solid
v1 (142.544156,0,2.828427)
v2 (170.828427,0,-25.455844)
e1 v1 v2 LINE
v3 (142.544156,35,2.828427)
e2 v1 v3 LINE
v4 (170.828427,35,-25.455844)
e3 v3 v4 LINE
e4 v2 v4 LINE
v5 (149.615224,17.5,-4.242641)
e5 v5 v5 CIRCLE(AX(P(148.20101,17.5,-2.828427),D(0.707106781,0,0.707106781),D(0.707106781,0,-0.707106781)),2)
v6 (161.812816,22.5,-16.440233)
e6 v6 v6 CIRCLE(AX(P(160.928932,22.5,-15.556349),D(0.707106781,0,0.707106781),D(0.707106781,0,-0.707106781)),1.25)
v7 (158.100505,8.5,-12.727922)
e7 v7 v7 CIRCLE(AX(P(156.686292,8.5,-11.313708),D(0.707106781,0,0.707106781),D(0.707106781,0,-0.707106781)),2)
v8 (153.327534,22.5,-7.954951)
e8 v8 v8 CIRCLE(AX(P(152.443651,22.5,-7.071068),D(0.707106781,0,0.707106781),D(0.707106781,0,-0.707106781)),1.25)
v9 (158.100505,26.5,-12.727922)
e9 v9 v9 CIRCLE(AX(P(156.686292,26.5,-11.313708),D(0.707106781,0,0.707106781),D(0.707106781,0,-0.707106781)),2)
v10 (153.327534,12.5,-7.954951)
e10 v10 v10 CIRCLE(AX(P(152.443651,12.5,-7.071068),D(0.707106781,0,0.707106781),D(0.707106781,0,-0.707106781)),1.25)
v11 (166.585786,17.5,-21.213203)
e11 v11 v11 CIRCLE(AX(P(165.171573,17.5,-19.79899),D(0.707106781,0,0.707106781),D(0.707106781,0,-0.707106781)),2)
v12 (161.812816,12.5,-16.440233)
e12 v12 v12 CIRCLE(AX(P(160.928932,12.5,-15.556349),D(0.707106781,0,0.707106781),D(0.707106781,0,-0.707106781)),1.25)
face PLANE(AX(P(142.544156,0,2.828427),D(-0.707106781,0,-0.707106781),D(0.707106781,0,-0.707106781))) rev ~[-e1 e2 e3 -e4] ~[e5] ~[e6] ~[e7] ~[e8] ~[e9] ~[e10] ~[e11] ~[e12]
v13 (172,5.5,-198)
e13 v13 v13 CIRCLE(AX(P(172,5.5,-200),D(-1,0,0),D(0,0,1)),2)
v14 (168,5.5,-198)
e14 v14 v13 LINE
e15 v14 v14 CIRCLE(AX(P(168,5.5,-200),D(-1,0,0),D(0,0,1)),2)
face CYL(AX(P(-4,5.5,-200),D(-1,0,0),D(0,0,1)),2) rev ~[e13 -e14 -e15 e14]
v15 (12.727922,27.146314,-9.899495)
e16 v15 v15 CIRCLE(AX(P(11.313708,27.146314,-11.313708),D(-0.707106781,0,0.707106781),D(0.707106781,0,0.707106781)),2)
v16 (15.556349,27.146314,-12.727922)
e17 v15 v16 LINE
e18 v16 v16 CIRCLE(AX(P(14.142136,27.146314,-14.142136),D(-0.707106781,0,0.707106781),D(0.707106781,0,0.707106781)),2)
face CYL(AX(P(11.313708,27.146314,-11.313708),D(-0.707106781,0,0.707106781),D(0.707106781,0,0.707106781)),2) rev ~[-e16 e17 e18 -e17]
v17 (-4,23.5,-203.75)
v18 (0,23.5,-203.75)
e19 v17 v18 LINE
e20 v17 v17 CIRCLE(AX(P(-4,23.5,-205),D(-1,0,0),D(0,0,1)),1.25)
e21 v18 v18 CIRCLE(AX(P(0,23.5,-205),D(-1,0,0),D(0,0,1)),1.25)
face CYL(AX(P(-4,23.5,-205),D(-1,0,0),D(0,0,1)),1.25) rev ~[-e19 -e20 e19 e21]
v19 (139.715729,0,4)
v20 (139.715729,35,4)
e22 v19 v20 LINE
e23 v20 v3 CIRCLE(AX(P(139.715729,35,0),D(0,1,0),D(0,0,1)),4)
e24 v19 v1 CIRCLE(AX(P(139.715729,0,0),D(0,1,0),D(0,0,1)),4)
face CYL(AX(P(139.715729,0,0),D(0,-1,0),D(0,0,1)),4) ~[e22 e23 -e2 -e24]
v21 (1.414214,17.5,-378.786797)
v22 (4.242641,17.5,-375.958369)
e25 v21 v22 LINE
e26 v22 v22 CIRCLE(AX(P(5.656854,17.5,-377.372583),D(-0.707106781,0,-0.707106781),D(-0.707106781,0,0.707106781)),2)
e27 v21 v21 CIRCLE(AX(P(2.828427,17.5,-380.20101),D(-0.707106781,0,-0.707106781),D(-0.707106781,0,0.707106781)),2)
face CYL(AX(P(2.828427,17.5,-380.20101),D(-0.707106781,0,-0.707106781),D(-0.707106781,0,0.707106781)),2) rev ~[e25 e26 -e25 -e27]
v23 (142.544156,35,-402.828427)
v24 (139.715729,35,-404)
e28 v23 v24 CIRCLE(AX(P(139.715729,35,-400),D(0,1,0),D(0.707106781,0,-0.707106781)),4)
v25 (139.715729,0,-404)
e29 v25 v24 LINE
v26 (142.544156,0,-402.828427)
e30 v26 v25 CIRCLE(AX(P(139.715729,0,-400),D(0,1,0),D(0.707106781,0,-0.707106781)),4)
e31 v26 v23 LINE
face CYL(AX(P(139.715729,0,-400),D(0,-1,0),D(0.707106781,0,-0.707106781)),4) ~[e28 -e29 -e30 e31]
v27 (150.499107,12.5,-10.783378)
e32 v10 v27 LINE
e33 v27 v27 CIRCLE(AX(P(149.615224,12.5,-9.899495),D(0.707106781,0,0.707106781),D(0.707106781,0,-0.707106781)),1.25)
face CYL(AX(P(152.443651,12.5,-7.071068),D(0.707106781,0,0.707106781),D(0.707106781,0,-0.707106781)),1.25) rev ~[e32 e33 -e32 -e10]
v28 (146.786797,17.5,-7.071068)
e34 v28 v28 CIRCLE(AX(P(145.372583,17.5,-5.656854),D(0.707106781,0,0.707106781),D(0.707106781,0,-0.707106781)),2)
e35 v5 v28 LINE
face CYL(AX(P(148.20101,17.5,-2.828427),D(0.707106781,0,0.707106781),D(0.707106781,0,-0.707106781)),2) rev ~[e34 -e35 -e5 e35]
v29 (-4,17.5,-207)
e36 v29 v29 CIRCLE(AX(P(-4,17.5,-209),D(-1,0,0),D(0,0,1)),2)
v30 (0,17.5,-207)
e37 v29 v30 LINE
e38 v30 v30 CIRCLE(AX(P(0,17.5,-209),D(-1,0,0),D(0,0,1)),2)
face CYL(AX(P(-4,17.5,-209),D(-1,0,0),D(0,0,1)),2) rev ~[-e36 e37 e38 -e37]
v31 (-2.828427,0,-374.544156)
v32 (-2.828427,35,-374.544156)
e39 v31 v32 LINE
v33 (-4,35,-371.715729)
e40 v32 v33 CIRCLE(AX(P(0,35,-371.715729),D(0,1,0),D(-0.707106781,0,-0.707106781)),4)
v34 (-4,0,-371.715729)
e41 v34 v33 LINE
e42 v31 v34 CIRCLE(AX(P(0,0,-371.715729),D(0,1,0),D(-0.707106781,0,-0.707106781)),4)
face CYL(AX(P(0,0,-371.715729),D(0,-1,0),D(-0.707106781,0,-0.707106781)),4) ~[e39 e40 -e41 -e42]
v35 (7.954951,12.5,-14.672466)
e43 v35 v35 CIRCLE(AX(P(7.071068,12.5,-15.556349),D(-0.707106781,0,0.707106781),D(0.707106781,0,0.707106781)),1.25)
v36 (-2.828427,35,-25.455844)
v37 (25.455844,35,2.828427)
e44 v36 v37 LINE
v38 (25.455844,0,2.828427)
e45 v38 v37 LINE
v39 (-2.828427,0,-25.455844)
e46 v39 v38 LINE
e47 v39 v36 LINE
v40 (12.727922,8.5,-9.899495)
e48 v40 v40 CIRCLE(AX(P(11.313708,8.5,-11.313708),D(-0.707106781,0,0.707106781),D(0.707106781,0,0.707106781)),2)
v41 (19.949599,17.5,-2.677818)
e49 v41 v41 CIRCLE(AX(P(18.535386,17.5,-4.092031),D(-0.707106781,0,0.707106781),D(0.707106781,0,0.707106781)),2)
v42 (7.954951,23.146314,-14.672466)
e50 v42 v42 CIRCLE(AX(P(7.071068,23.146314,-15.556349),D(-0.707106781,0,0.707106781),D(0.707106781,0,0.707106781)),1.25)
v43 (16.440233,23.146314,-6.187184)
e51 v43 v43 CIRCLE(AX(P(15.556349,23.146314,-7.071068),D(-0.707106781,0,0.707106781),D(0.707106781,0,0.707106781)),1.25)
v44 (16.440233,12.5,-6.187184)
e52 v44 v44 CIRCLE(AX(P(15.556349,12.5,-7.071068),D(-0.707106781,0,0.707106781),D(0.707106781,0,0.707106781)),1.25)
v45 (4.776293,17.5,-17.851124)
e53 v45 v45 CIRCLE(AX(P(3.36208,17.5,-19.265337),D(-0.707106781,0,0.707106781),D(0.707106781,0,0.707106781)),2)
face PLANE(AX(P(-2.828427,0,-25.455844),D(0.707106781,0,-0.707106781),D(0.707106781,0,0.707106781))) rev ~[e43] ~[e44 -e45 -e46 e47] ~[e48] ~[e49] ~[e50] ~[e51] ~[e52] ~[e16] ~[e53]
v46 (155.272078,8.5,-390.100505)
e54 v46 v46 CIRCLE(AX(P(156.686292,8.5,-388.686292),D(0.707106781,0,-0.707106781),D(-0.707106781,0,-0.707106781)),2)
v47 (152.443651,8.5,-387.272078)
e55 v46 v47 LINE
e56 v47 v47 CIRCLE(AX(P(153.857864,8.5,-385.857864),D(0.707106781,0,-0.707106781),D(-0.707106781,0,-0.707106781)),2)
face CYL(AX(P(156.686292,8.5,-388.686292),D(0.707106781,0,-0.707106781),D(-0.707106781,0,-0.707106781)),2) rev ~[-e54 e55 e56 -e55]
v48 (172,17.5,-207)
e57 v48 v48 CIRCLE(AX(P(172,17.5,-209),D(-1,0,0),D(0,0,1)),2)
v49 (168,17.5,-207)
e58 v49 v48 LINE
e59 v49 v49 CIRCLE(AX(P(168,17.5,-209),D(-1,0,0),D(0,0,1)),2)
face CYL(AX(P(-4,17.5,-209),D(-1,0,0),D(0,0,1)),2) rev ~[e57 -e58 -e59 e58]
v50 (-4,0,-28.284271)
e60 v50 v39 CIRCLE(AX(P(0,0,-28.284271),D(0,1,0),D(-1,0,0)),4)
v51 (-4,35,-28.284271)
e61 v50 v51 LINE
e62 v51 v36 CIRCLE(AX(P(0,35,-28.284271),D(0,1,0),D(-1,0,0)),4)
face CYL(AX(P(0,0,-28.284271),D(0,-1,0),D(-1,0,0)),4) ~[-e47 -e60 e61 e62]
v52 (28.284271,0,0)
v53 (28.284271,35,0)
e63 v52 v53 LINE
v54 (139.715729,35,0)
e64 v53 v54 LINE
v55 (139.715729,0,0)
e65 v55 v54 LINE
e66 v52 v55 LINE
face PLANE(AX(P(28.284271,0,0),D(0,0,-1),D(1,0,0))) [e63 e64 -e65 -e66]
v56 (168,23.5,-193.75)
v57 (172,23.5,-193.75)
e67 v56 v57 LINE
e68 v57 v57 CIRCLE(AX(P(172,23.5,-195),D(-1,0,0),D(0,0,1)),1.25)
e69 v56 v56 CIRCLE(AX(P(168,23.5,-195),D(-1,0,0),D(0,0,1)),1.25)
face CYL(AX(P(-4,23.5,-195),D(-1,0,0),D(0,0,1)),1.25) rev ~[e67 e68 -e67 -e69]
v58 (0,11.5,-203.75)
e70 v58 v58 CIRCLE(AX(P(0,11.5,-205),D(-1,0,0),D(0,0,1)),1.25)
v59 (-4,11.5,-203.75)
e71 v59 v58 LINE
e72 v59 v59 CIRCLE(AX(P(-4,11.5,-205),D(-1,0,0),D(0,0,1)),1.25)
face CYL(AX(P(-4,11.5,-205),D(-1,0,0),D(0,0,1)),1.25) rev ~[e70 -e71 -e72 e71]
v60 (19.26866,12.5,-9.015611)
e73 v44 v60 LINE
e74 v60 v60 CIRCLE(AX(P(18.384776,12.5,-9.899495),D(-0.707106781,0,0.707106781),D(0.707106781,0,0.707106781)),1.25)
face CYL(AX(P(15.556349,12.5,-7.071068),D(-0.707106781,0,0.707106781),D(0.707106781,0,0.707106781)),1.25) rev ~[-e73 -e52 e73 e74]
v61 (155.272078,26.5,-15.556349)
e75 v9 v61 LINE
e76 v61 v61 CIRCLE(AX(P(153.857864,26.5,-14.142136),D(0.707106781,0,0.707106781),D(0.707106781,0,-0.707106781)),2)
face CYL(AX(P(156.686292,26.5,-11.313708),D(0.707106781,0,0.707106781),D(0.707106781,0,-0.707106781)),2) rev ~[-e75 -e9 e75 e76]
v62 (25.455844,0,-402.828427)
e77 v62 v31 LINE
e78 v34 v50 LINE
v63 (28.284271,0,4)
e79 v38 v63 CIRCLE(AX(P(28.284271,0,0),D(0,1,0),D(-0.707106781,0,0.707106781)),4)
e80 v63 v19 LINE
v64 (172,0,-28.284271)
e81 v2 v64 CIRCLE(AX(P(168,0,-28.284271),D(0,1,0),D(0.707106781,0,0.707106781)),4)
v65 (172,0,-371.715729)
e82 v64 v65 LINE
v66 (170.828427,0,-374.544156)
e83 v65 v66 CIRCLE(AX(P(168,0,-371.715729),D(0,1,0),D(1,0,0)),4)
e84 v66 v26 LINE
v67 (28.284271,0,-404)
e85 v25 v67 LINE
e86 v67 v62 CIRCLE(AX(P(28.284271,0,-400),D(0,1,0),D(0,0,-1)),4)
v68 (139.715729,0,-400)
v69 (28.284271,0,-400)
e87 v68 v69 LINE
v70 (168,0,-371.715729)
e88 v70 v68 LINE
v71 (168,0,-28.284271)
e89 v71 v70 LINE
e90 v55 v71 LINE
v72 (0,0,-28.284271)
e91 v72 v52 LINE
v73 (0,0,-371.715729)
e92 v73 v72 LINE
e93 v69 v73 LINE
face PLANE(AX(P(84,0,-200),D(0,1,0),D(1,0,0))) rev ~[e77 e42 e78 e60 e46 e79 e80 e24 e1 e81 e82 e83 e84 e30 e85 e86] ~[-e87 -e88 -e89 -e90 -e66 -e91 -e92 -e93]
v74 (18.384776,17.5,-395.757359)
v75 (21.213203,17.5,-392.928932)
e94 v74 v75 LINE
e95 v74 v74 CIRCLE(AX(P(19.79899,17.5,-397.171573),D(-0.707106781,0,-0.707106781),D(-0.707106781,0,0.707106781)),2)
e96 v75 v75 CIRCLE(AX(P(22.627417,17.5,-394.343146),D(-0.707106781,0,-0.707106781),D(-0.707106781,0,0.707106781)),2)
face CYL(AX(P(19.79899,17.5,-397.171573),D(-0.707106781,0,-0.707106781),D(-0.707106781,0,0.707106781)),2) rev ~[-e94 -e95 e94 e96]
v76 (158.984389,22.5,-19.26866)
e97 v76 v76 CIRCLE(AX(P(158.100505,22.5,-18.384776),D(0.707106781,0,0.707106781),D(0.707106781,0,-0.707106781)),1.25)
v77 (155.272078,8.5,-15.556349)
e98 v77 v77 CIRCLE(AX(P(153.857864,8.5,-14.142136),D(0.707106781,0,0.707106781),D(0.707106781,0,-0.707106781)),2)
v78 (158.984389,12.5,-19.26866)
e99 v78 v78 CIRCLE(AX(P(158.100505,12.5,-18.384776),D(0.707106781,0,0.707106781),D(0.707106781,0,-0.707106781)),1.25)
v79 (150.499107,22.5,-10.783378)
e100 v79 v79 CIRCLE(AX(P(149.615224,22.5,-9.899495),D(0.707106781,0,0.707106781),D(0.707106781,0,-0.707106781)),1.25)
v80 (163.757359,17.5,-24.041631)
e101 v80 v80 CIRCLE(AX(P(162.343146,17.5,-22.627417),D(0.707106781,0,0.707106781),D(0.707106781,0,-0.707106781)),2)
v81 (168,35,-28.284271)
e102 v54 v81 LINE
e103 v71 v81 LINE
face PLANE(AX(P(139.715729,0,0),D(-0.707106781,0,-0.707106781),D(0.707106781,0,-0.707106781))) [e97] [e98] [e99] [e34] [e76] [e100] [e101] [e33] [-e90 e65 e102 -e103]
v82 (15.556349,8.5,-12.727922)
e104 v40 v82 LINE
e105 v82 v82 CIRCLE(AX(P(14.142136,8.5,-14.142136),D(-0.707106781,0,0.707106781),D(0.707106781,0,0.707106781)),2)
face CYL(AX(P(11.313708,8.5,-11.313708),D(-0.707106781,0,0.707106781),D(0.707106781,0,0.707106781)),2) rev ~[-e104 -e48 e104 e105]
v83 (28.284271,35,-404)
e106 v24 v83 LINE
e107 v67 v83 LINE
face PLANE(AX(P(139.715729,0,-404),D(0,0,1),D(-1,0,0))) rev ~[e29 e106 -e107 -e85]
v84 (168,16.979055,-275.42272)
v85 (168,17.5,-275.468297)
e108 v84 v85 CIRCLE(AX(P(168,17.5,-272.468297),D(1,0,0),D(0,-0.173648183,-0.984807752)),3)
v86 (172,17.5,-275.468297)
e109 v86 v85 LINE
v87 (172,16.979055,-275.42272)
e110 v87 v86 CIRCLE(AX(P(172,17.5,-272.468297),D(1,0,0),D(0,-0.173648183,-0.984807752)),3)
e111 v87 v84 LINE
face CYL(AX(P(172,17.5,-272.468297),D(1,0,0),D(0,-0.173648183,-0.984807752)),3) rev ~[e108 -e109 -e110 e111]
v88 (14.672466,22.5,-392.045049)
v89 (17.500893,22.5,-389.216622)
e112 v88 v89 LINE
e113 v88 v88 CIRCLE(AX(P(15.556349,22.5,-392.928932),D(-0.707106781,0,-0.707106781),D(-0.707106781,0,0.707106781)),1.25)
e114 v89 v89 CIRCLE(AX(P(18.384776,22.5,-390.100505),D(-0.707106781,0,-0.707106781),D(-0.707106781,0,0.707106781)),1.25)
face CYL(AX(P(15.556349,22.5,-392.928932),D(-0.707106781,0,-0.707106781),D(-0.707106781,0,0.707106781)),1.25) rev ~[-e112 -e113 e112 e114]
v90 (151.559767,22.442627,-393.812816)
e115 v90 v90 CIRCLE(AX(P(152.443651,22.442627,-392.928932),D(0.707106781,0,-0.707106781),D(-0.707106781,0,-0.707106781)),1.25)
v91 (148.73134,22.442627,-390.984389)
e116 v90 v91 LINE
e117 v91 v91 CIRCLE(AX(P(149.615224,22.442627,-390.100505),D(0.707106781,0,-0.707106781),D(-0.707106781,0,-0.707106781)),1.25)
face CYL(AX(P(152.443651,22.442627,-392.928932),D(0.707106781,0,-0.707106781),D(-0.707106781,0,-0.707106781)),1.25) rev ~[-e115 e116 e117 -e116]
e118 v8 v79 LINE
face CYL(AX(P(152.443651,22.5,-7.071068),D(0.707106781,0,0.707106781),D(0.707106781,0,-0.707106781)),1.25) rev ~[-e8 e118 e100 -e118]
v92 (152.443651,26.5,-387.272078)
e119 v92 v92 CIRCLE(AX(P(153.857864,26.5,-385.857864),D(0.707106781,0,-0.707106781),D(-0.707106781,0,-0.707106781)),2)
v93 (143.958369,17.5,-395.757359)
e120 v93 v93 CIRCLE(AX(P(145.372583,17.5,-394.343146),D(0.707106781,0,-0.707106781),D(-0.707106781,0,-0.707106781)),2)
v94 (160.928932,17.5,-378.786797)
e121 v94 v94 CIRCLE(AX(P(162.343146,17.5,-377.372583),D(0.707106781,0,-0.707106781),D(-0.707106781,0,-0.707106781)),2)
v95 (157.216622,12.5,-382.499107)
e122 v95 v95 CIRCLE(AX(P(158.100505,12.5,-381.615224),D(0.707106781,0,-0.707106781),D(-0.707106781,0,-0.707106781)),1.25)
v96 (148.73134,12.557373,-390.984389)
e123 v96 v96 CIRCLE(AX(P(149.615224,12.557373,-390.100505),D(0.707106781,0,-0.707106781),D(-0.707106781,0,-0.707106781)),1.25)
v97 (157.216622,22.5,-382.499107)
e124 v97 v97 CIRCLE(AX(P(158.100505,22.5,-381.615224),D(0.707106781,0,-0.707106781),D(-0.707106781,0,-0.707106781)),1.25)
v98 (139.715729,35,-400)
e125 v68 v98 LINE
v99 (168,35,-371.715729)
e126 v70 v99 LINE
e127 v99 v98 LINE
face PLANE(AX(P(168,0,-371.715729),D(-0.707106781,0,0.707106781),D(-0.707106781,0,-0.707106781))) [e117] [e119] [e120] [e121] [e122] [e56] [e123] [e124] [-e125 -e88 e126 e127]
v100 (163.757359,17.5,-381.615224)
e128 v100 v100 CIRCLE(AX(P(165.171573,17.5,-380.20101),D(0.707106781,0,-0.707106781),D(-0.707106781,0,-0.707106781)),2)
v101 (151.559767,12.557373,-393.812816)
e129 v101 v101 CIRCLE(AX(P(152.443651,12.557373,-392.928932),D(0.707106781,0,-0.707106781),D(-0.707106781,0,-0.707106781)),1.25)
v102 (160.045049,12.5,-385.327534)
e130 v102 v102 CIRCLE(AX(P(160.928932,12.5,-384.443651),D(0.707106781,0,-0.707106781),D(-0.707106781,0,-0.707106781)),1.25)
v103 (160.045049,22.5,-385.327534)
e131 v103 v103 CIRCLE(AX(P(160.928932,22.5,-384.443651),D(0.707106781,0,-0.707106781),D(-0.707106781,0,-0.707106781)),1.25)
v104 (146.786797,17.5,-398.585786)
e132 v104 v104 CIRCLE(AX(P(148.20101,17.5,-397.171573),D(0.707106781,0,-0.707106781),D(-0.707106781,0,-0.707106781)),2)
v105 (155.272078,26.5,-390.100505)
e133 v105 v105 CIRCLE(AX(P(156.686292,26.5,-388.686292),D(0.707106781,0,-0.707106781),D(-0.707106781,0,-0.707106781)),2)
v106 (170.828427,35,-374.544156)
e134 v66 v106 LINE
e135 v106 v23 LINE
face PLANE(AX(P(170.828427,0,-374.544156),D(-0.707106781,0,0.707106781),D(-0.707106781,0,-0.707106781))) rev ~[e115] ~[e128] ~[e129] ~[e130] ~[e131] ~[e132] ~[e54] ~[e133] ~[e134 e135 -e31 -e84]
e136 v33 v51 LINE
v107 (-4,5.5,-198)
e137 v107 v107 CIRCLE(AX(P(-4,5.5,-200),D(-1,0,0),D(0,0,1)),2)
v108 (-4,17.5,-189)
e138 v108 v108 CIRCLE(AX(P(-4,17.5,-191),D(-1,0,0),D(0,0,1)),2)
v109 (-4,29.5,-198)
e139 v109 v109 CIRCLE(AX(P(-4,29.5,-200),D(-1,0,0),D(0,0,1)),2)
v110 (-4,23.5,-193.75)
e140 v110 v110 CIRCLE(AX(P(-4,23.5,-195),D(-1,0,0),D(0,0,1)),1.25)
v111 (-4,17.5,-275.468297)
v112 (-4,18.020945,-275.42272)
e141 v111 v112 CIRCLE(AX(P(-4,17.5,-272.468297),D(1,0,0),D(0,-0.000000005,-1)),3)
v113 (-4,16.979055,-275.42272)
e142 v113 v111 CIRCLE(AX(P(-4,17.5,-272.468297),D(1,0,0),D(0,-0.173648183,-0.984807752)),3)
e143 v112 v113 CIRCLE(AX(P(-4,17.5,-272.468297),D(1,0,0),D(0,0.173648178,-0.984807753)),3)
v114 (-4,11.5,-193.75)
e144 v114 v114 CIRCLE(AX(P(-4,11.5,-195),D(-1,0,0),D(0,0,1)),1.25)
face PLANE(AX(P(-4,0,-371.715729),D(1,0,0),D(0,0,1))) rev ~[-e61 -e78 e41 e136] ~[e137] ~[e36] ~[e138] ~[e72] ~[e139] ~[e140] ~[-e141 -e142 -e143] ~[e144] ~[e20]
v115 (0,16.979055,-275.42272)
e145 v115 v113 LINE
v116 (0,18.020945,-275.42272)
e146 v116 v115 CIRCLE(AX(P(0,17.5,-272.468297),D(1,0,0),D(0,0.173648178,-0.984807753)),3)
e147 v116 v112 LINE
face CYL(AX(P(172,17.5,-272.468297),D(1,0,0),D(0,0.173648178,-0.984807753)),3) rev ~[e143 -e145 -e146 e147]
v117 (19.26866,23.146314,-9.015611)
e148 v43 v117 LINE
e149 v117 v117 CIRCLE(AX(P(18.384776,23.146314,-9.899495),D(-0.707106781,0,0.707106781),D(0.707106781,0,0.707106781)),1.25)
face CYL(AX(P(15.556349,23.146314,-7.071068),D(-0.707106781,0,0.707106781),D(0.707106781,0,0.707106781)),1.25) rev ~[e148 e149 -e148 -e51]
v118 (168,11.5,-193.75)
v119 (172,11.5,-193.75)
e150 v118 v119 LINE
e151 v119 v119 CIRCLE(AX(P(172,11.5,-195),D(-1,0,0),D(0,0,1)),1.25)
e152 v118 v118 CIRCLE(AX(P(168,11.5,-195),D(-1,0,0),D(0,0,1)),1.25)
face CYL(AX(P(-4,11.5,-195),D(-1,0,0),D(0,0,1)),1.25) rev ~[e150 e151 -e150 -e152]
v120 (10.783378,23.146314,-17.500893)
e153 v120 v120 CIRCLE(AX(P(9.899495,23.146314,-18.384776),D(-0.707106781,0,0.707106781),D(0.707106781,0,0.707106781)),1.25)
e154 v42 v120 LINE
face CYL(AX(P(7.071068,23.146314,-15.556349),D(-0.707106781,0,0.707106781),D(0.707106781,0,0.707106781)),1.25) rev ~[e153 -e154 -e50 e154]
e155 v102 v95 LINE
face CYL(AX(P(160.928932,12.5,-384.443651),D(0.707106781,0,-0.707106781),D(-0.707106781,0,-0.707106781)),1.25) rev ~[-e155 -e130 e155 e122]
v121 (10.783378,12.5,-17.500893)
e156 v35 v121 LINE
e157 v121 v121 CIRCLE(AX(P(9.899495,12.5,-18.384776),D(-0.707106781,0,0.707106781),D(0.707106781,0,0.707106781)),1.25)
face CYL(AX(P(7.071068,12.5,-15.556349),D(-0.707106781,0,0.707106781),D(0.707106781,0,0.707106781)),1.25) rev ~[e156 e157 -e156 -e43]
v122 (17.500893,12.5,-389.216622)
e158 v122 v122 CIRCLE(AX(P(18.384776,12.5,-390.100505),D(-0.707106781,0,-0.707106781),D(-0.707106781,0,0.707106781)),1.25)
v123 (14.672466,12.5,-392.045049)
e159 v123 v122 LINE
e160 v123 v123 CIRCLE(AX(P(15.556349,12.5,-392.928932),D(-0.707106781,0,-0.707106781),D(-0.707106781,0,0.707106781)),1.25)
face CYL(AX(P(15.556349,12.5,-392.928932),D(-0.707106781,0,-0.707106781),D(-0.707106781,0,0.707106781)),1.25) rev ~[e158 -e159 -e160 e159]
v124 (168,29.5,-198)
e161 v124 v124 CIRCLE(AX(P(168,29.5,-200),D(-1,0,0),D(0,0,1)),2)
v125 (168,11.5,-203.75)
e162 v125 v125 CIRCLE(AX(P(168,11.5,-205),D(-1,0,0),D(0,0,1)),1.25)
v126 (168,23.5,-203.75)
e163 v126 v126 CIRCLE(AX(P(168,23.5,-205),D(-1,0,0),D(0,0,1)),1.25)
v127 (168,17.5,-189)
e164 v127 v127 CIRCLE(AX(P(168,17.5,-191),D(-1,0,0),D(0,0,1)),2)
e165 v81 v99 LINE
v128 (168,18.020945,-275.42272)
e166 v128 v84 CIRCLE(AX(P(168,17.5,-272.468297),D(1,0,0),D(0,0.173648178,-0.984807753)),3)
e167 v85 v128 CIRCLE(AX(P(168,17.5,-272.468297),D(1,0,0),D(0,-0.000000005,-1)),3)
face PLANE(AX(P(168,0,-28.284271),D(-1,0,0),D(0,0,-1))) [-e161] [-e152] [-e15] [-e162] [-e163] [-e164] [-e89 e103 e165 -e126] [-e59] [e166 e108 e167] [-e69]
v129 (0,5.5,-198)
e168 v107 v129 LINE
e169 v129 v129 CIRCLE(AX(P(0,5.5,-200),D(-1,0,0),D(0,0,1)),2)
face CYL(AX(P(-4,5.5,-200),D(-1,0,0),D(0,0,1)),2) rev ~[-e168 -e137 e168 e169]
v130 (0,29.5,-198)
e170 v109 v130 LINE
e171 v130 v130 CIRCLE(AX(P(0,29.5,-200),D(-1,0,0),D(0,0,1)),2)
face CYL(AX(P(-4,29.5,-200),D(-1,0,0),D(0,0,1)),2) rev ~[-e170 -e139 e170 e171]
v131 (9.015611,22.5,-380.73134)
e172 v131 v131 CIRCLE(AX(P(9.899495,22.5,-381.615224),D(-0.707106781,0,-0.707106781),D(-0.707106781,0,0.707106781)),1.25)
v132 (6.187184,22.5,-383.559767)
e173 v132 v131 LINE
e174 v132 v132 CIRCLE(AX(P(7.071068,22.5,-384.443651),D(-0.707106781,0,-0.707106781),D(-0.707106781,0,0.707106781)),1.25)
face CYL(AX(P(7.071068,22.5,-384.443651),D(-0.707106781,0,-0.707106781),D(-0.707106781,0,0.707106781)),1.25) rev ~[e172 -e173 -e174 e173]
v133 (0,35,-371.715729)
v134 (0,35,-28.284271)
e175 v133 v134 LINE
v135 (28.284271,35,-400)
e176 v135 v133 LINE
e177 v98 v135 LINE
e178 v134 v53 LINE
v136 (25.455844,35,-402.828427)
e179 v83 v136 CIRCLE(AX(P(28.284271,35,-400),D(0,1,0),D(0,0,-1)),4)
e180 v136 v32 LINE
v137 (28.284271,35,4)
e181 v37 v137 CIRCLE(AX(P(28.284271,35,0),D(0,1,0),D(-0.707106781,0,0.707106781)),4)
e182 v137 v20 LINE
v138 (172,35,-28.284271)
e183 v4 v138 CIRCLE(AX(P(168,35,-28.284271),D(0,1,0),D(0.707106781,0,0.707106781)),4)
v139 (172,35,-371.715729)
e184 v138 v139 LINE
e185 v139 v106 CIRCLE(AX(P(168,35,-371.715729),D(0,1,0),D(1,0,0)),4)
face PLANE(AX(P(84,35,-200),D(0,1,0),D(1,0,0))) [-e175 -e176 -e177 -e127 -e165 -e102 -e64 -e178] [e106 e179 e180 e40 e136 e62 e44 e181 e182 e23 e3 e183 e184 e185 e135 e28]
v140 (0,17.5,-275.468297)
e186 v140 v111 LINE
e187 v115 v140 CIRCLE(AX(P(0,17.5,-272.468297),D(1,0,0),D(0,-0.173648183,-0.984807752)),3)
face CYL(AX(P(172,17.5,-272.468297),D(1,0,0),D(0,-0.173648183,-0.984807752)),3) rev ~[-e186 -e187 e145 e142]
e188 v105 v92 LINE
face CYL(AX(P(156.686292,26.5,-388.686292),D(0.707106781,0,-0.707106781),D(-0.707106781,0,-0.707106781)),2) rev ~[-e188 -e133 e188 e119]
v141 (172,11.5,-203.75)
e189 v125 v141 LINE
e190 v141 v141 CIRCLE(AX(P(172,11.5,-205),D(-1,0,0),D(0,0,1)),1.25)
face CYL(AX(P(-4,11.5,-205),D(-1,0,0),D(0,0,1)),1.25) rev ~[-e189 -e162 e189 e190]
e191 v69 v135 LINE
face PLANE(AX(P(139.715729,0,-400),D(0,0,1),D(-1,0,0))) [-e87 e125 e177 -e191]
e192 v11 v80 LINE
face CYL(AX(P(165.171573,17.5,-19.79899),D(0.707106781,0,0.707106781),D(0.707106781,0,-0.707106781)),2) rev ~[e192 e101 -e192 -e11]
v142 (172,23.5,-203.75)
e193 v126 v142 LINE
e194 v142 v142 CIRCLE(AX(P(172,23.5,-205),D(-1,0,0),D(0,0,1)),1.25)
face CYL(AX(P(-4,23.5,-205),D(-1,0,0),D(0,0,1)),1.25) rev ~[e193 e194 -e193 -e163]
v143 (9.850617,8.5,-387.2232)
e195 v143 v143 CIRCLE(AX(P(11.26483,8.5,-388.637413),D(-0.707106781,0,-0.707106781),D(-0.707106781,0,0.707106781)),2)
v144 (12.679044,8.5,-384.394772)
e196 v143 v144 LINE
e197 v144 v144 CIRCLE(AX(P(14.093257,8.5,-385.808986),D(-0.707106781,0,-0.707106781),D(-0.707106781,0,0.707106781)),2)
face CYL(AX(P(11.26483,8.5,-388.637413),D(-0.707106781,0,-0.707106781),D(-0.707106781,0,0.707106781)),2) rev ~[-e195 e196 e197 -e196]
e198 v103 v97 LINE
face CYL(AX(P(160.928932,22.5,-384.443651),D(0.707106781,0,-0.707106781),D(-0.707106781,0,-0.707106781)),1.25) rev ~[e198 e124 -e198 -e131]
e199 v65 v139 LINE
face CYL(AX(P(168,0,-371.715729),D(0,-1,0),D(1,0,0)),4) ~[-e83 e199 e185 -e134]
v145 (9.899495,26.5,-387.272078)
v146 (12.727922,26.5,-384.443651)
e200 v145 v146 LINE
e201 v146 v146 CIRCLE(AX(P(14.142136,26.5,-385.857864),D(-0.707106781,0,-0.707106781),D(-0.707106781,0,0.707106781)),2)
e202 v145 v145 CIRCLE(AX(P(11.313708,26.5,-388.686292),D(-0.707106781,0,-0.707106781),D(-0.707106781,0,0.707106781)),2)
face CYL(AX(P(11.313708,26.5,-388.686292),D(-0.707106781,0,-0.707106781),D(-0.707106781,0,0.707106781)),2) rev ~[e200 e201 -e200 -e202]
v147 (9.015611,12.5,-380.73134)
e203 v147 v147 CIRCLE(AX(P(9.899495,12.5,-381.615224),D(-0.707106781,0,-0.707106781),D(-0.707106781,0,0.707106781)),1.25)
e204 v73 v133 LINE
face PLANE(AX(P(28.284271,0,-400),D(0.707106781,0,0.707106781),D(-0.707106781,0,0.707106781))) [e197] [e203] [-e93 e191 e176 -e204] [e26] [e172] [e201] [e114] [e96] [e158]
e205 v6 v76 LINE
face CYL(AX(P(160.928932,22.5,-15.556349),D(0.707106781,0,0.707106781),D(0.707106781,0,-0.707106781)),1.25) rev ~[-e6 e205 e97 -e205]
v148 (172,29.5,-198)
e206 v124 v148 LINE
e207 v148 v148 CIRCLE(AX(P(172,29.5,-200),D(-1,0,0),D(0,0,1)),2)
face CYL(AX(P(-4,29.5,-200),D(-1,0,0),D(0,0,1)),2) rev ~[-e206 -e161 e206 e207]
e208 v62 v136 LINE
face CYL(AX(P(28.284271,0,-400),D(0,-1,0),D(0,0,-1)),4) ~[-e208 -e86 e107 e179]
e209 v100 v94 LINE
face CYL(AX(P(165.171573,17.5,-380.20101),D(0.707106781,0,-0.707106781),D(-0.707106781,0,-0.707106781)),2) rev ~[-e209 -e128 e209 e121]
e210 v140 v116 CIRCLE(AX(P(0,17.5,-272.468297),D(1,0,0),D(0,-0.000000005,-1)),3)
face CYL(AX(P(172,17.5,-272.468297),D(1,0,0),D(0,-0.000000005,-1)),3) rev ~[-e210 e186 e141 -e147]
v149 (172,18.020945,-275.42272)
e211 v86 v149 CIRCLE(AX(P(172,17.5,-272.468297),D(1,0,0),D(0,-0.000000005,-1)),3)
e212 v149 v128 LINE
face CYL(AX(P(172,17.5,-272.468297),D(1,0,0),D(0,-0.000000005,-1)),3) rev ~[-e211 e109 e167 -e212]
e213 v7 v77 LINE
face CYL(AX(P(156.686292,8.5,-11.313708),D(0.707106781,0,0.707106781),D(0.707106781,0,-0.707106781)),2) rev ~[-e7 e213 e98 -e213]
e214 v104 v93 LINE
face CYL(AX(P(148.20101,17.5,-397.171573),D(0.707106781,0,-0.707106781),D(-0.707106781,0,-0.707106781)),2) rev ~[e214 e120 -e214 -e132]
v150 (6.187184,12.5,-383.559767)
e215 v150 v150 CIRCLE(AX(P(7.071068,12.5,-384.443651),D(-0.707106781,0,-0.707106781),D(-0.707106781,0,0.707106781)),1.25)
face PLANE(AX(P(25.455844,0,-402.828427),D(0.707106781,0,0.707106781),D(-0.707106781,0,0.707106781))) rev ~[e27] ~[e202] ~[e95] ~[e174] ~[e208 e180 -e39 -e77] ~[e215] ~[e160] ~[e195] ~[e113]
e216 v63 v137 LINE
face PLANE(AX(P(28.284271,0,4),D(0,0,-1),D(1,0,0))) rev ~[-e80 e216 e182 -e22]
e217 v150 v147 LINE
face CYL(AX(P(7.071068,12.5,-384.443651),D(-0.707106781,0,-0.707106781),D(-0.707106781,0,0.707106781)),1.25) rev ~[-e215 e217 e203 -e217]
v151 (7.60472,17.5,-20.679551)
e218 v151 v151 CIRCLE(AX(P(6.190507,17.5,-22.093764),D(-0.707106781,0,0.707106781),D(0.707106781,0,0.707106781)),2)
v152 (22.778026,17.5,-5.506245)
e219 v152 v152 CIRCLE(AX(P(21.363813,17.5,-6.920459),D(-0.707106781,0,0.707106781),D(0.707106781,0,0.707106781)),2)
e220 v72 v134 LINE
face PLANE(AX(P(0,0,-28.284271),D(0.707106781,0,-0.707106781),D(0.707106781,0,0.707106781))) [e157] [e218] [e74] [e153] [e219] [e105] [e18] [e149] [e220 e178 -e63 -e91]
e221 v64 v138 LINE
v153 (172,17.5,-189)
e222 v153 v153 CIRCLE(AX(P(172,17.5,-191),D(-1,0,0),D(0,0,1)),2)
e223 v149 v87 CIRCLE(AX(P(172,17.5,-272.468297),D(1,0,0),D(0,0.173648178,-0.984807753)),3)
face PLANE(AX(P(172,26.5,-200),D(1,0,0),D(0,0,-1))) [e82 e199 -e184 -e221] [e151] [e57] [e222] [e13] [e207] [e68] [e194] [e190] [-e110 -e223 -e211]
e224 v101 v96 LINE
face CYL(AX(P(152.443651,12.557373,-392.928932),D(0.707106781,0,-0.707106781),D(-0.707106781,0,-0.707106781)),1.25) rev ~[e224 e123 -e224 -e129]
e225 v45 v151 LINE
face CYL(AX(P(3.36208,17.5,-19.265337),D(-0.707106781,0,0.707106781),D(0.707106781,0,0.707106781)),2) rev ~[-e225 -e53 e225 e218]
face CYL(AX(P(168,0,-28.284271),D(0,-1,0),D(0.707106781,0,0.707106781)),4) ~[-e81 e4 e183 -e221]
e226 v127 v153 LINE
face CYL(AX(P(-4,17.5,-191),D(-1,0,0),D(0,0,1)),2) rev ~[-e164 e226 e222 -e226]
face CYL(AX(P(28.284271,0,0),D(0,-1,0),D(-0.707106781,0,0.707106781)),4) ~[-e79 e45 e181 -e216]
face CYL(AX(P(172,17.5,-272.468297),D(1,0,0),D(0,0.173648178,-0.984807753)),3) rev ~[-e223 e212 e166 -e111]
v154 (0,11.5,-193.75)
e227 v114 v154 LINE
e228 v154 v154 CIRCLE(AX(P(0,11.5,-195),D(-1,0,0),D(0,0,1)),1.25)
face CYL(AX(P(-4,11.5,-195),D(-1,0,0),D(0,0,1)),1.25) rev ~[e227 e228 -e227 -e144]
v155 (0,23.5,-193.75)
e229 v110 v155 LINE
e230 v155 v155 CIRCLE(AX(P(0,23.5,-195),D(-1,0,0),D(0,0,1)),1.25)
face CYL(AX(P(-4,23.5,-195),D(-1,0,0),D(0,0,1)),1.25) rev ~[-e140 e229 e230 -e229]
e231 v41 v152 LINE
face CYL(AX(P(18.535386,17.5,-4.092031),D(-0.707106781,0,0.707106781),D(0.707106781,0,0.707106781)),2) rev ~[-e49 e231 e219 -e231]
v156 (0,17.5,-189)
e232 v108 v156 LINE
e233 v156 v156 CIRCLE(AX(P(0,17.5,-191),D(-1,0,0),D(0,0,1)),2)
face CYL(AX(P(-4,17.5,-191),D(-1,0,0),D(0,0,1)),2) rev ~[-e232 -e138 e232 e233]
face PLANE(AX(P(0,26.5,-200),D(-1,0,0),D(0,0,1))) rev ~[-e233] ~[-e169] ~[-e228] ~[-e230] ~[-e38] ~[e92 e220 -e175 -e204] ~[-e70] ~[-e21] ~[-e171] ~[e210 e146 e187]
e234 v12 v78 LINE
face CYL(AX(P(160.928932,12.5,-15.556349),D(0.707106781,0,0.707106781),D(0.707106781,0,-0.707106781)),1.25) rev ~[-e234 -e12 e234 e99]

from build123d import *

# Parameters (mm, degrees)
Y_KSEKLIK_EKSTR_ZYON1_DEPTH = 35
KES_EKSTR_ZYON1_DEPTH       = 269
IZIM3_R                     = 2
IZIM3_R_2                   = 1.25
KES_EKSTR_ZYON2_DEPTH       = 10
IZIM4_R                     = 2
IZIM4_R_2                   = 1.25
KES_EKSTR_ZYON3_DEPTH       = 10
IZIM5_R                     = 1.25
IZIM5_R_2                   = 2
KES_EKSTR_ZYON4_DEPTH       = 77
IZIM6_R                     = 1.25
IZIM6_R_2                   = 2
KES_EKSTR_ZYON5_DEPTH       = 77
IZIM7_R                     = 2
IZIM7_R_2                   = 1.25
KES_EKSTR_ZYON6_DEPTH       = 382
IZIM8_R                     = 2
IZIM8_R_2                   = 1.25
Y_KSEKLIK_EKSTR_ZYON3_DEPTH = 4
Y_KSEKLIK_EKSTR_ZYON4_START = -4
IZIM9_R                     = 2
IZIM9_R_2                   = 1.25
Y_KSEKLIK_EKSTR_ZYON4_DEPTH = 4
IZIM10_R                    = 2
IZIM10_R_2                  = 1.25
KES_EKSTR_ZYON8_DEPTH       = 228


with BuildPart() as part:
    # Çizim1 → Yükseklik-Ekstrüzyon1 (new body)
    with BuildSketch(Plane(origin=(0, 0, 0), x_dir=(1, 0, 0), z_dir=(0, 1, 0))):
        with BuildLine():
            Line((142.544155877, -2.828427125), (170.828427125, 25.455844123))
            ThreePointArc((170.828427125, 25.455844123), (171.69551813, 26.753537518), (172, 28.284271247))
            Line((172, 28.284271247), (172, 371.715728753))
            ThreePointArc((172, 371.715728753), (171.69551813, 373.246462482), (170.828427125, 374.544155877))
            Line((170.828427125, 374.544155877), (142.544155877, 402.828427125))
            ThreePointArc((142.544155877, 402.828427125), (141.246462482, 403.69551813), (139.715728753, 404))
            Line((139.715728753, 404), (28.284271247, 404))
            ThreePointArc((28.284271247, 404), (26.753537518, 403.69551813), (25.455844123, 402.828427125))
            Line((25.455844123, 402.828427125), (-2.828427125, 374.544155877))
            ThreePointArc((-2.828427125, 374.544155877), (-3.69551813, 373.246462482), (-4, 371.715728753))
            Line((-4, 371.715728753), (-4, 28.284271247))
            ThreePointArc((-4, 28.284271247), (-3.69551813, 26.753537518), (-2.828427125, 25.455844123))
            Line((-2.828427125, 25.455844123), (25.455844123, -2.828427125))
            ThreePointArc((25.455844123, -2.828427125), (26.753537518, -3.69551813), (28.284271247, -4))
            Line((28.284271247, -4), (139.715728753, -4))
            ThreePointArc((139.715728753, -4), (141.246462482, -3.69551813), (142.544155877, -2.828427125))
        make_face()
        Polygon((28.284271247, 0), (139.715728753, 0), (168, 28.284271247), (168, 371.715728753), (139.715728753, 400), (28.284271247, 400), (0, 371.715728753), (0, 28.284271247), align=None, mode=Mode.SUBTRACT)
    extrude(amount=Y_KSEKLIK_EKSTR_ZYON1_DEPTH)

    # Çizim2 → Kes-Ekstrüzyon1 (cut)
    with BuildSketch(Plane(origin=(172, 0, 0), x_dir=(0, 0, -1), z_dir=(1, 0, 0))):
        with BuildLine():
            ThreePointArc((275.468296909, 17.5), (275.456881004, 17.761467228), (275.422720168, 18.020944533))
            Line((275.422720168, 18.020944533), (272.468296909, 17.5))
            Line((272.468296909, 17.5), (275.422720168, 16.979055467))
            ThreePointArc((275.422720168, 16.979055467), (275.456881004, 17.238532772), (275.468296909, 17.5))
        make_face()
        with BuildLine():
            Line((272.468296909, 17.5), (275.422720168, 18.020944533))
            ThreePointArc((275.422720168, 18.020944533), (269.468296909, 17.5), (275.422720168, 16.979055467))
            Line((275.422720168, 16.979055467), (272.468296909, 17.5))
        make_face()
    extrude(amount=-KES_EKSTR_ZYON1_DEPTH, mode=Mode.SUBTRACT)

    # Çizim3 → Kes-Ekstrüzyon2 (cut)
    with BuildSketch(Plane(origin=(272.686291501, 0, -272.686291501), x_dir=(-0.7071067811865404, 0, -0.7071067811865547), z_dir=(0.7071067811865547, 0, -0.7071067811865404))):
        with Locations((176.048773235, 17.5)):
            Circle(IZIM3_R)
        with Locations((164.048773235, 8.5)):
            Circle(IZIM3_R)
        with Locations((164.048773235, 26.5)):
            Circle(IZIM3_R)
        with Locations((152.048773235, 17.5)):
            Circle(IZIM3_R)
        with Locations((158.048773235, 22.5)):
            Circle(IZIM3_R_2)
        with Locations((170.048773235, 22.442626722)):
            Circle(IZIM3_R_2)
        with Locations((158.048773235, 12.5)):
            Circle(IZIM3_R_2)
        with Locations((170.048773235, 12.557373278)):
            Circle(IZIM3_R_2)
    extrude(amount=-KES_EKSTR_ZYON2_DEPTH, mode=Mode.SUBTRACT)

    # Çizim4 → Kes-Ekstrüzyon3 (cut)
    with BuildSketch(Plane(origin=(-188.686291501, 0, -188.686291501), x_dir=(-0.707106781186543, 0, 0.707106781186552), z_dir=(-0.707106781186552, 0, -0.707106781186543))):
        with Locations((-270.842712475, 17.5)):
            Circle(IZIM4_R)
        with Locations((-282.842712475, 26.5)):
            Circle(IZIM4_R)
        with Locations((-282.773588044, 8.5)):
            Circle(IZIM4_R)
        with Locations((-294.842712475, 17.5)):
            Circle(IZIM4_R)
        with Locations((-288.842712475, 22.5)):
            Circle(IZIM4_R_2)
        with Locations((-276.842712475, 22.5)):
            Circle(IZIM4_R_2)
        with Locations((-288.842712475, 12.5)):
            Circle(IZIM4_R_2)
        with Locations((-276.842712475, 12.5)):
            Circle(IZIM4_R_2)
    extrude(amount=-KES_EKSTR_ZYON3_DEPTH, mode=Mode.SUBTRACT)

    # Çizim5 → Kes-Ekstrüzyon4 (cut)
    with BuildSketch(Plane(origin=(11.313708499, 0, -11.313708499), x_dir=(0.7071067811865513, 0, 0.7071067811865438), z_dir=(-0.7071067811865438, 0, 0.7071067811865513))):
        with Locations((6, 23.146313605)):
            Circle(IZIM5_R)
        with Locations((-6, 23.146313605)):
            Circle(IZIM5_R)
        with Locations((0, 27.146313605)):
            Circle(IZIM5_R_2)
        with Locations((0, 8.5)):
            Circle(IZIM5_R_2)
        with Locations((6, 12.5)):
            Circle(IZIM5_R)
        with Locations((-6, 12.5)):
            Circle(IZIM5_R)
        with Locations((10.212993677, 17.5)):
            Circle(IZIM5_R_2)
        with Locations((-11.245301358, 17.5)):
            Circle(IZIM5_R_2)
    extrude(amount=-KES_EKSTR_ZYON4_DEPTH, mode=Mode.SUBTRACT)

    # Çizim6 → Kes-Ekstrüzyon5 (cut)
    with BuildSketch(Plane(origin=(72.686291501, 0, 72.686291501), x_dir=(0.7071067811865476, 0, -0.7071067811865476), z_dir=(0.7071067811865476, 0, 0.7071067811865476))):
        with Locations((124.793939239, 12.5)):
            Circle(IZIM6_R)
        with Locations((112.793939239, 12.5)):
            Circle(IZIM6_R)
        with Locations((112.793939239, 22.5)):
            Circle(IZIM6_R)
        with Locations((118.793939239, 26.5)):
            Circle(IZIM6_R_2)
        with Locations((124.793939239, 22.5)):
            Circle(IZIM6_R)
        with Locations((130.793939239, 17.5)):
            Circle(IZIM6_R_2)
        with Locations((106.793939239, 17.5)):
            Circle(IZIM6_R_2)
        with Locations((118.793939239, 8.5)):
            Circle(IZIM6_R_2)
    extrude(amount=-KES_EKSTR_ZYON5_DEPTH, mode=Mode.SUBTRACT)

    # Çizim7 → Kes-Ekstrüzyon6 (cut)
    with BuildSketch(Plane(origin=(172, 0, 0), x_dir=(0, 0, -1), z_dir=(1, 0, 0))):
        with Locations((200, 26.5)):
            Circle(IZIM7_R)
        with Locations((194, 22.5)):
            Circle(IZIM7_R_2)
        with Locations((206, 22.5)):
            Circle(IZIM7_R_2)
        with Locations((194, 12.5)):
            Circle(IZIM7_R_2)
        with Locations((206, 12.5)):
            Circle(IZIM7_R_2)
        with Locations((200, 8.5)):
            Circle(IZIM7_R)
        with Locations((188, 17.5)):
            Circle(IZIM7_R)
        with Locations((212, 17.5)):
            Circle(IZIM7_R)
    extrude(amount=-KES_EKSTR_ZYON6_DEPTH, mode=Mode.SUBTRACT)

    # Çizim8 → Yükseklik-Ekstrüzyon3 (add)
    with BuildSketch(Plane(origin=(172, 0, 0), x_dir=(0, 0, -1), z_dir=(1, 0, 0))):
        with Locations((200, 26.5)):
            Circle(IZIM8_R)
        with Locations((206, 22.5)):
            Circle(IZIM8_R_2)
        with Locations((194, 22.5)):
            Circle(IZIM8_R_2)
        with Locations((188, 17.5)):
            Circle(IZIM8_R)
        with Locations((194, 12.5)):
            Circle(IZIM8_R_2)
        with Locations((200, 8.5)):
            Circle(IZIM8_R)
        with Locations((206, 12.5)):
            Circle(IZIM8_R_2)
        with Locations((212, 17.5)):
            Circle(IZIM8_R)
    extrude(amount=-Y_KSEKLIK_EKSTR_ZYON3_DEPTH)

    # Çizim9 → Yükseklik-Ekstrüzyon4 (add)
    with BuildSketch(Plane.ZY.offset(4).offset(Y_KSEKLIK_EKSTR_ZYON4_START)):
        with Locations((-200, 26.5)):
            Circle(IZIM9_R)
        with Locations((-194, 22.5)):
            Circle(IZIM9_R_2)
        with Locations((-206, 22.5)):
            Circle(IZIM9_R_2)
        with Locations((-212, 17.5)):
            Circle(IZIM9_R)
        with Locations((-206, 12.5)):
            Circle(IZIM9_R_2)
        with Locations((-200, 8.5)):
            Circle(IZIM9_R)
        with Locations((-194, 12.5)):
            Circle(IZIM9_R_2)
        with Locations((-188, 17.5)):
            Circle(IZIM9_R)
    extrude(amount=Y_KSEKLIK_EKSTR_ZYON4_DEPTH)

    # Çizim10 → Kes-Ekstrüzyon8 (cut)
    with BuildSketch(Plane.ZY.offset(4)):
        with Locations((-200, 29.5)):
            Circle(IZIM10_R)
        with Locations((-209, 17.5)):
            Circle(IZIM10_R)
        with Locations((-191, 17.5)):
            Circle(IZIM10_R)
        with Locations((-200, 5.5)):
            Circle(IZIM10_R)
        with Locations((-205, 23.5)):
            Circle(IZIM10_R_2)
        with Locations((-195, 23.5)):
            Circle(IZIM10_R_2)
        with Locations((-205, 11.5)):
            Circle(IZIM10_R_2)
        with Locations((-195, 11.5)):
            Circle(IZIM10_R_2)
    extrude(amount=-KES_EKSTR_ZYON8_DEPTH, mode=Mode.SUBTRACT)


solid = part.part
